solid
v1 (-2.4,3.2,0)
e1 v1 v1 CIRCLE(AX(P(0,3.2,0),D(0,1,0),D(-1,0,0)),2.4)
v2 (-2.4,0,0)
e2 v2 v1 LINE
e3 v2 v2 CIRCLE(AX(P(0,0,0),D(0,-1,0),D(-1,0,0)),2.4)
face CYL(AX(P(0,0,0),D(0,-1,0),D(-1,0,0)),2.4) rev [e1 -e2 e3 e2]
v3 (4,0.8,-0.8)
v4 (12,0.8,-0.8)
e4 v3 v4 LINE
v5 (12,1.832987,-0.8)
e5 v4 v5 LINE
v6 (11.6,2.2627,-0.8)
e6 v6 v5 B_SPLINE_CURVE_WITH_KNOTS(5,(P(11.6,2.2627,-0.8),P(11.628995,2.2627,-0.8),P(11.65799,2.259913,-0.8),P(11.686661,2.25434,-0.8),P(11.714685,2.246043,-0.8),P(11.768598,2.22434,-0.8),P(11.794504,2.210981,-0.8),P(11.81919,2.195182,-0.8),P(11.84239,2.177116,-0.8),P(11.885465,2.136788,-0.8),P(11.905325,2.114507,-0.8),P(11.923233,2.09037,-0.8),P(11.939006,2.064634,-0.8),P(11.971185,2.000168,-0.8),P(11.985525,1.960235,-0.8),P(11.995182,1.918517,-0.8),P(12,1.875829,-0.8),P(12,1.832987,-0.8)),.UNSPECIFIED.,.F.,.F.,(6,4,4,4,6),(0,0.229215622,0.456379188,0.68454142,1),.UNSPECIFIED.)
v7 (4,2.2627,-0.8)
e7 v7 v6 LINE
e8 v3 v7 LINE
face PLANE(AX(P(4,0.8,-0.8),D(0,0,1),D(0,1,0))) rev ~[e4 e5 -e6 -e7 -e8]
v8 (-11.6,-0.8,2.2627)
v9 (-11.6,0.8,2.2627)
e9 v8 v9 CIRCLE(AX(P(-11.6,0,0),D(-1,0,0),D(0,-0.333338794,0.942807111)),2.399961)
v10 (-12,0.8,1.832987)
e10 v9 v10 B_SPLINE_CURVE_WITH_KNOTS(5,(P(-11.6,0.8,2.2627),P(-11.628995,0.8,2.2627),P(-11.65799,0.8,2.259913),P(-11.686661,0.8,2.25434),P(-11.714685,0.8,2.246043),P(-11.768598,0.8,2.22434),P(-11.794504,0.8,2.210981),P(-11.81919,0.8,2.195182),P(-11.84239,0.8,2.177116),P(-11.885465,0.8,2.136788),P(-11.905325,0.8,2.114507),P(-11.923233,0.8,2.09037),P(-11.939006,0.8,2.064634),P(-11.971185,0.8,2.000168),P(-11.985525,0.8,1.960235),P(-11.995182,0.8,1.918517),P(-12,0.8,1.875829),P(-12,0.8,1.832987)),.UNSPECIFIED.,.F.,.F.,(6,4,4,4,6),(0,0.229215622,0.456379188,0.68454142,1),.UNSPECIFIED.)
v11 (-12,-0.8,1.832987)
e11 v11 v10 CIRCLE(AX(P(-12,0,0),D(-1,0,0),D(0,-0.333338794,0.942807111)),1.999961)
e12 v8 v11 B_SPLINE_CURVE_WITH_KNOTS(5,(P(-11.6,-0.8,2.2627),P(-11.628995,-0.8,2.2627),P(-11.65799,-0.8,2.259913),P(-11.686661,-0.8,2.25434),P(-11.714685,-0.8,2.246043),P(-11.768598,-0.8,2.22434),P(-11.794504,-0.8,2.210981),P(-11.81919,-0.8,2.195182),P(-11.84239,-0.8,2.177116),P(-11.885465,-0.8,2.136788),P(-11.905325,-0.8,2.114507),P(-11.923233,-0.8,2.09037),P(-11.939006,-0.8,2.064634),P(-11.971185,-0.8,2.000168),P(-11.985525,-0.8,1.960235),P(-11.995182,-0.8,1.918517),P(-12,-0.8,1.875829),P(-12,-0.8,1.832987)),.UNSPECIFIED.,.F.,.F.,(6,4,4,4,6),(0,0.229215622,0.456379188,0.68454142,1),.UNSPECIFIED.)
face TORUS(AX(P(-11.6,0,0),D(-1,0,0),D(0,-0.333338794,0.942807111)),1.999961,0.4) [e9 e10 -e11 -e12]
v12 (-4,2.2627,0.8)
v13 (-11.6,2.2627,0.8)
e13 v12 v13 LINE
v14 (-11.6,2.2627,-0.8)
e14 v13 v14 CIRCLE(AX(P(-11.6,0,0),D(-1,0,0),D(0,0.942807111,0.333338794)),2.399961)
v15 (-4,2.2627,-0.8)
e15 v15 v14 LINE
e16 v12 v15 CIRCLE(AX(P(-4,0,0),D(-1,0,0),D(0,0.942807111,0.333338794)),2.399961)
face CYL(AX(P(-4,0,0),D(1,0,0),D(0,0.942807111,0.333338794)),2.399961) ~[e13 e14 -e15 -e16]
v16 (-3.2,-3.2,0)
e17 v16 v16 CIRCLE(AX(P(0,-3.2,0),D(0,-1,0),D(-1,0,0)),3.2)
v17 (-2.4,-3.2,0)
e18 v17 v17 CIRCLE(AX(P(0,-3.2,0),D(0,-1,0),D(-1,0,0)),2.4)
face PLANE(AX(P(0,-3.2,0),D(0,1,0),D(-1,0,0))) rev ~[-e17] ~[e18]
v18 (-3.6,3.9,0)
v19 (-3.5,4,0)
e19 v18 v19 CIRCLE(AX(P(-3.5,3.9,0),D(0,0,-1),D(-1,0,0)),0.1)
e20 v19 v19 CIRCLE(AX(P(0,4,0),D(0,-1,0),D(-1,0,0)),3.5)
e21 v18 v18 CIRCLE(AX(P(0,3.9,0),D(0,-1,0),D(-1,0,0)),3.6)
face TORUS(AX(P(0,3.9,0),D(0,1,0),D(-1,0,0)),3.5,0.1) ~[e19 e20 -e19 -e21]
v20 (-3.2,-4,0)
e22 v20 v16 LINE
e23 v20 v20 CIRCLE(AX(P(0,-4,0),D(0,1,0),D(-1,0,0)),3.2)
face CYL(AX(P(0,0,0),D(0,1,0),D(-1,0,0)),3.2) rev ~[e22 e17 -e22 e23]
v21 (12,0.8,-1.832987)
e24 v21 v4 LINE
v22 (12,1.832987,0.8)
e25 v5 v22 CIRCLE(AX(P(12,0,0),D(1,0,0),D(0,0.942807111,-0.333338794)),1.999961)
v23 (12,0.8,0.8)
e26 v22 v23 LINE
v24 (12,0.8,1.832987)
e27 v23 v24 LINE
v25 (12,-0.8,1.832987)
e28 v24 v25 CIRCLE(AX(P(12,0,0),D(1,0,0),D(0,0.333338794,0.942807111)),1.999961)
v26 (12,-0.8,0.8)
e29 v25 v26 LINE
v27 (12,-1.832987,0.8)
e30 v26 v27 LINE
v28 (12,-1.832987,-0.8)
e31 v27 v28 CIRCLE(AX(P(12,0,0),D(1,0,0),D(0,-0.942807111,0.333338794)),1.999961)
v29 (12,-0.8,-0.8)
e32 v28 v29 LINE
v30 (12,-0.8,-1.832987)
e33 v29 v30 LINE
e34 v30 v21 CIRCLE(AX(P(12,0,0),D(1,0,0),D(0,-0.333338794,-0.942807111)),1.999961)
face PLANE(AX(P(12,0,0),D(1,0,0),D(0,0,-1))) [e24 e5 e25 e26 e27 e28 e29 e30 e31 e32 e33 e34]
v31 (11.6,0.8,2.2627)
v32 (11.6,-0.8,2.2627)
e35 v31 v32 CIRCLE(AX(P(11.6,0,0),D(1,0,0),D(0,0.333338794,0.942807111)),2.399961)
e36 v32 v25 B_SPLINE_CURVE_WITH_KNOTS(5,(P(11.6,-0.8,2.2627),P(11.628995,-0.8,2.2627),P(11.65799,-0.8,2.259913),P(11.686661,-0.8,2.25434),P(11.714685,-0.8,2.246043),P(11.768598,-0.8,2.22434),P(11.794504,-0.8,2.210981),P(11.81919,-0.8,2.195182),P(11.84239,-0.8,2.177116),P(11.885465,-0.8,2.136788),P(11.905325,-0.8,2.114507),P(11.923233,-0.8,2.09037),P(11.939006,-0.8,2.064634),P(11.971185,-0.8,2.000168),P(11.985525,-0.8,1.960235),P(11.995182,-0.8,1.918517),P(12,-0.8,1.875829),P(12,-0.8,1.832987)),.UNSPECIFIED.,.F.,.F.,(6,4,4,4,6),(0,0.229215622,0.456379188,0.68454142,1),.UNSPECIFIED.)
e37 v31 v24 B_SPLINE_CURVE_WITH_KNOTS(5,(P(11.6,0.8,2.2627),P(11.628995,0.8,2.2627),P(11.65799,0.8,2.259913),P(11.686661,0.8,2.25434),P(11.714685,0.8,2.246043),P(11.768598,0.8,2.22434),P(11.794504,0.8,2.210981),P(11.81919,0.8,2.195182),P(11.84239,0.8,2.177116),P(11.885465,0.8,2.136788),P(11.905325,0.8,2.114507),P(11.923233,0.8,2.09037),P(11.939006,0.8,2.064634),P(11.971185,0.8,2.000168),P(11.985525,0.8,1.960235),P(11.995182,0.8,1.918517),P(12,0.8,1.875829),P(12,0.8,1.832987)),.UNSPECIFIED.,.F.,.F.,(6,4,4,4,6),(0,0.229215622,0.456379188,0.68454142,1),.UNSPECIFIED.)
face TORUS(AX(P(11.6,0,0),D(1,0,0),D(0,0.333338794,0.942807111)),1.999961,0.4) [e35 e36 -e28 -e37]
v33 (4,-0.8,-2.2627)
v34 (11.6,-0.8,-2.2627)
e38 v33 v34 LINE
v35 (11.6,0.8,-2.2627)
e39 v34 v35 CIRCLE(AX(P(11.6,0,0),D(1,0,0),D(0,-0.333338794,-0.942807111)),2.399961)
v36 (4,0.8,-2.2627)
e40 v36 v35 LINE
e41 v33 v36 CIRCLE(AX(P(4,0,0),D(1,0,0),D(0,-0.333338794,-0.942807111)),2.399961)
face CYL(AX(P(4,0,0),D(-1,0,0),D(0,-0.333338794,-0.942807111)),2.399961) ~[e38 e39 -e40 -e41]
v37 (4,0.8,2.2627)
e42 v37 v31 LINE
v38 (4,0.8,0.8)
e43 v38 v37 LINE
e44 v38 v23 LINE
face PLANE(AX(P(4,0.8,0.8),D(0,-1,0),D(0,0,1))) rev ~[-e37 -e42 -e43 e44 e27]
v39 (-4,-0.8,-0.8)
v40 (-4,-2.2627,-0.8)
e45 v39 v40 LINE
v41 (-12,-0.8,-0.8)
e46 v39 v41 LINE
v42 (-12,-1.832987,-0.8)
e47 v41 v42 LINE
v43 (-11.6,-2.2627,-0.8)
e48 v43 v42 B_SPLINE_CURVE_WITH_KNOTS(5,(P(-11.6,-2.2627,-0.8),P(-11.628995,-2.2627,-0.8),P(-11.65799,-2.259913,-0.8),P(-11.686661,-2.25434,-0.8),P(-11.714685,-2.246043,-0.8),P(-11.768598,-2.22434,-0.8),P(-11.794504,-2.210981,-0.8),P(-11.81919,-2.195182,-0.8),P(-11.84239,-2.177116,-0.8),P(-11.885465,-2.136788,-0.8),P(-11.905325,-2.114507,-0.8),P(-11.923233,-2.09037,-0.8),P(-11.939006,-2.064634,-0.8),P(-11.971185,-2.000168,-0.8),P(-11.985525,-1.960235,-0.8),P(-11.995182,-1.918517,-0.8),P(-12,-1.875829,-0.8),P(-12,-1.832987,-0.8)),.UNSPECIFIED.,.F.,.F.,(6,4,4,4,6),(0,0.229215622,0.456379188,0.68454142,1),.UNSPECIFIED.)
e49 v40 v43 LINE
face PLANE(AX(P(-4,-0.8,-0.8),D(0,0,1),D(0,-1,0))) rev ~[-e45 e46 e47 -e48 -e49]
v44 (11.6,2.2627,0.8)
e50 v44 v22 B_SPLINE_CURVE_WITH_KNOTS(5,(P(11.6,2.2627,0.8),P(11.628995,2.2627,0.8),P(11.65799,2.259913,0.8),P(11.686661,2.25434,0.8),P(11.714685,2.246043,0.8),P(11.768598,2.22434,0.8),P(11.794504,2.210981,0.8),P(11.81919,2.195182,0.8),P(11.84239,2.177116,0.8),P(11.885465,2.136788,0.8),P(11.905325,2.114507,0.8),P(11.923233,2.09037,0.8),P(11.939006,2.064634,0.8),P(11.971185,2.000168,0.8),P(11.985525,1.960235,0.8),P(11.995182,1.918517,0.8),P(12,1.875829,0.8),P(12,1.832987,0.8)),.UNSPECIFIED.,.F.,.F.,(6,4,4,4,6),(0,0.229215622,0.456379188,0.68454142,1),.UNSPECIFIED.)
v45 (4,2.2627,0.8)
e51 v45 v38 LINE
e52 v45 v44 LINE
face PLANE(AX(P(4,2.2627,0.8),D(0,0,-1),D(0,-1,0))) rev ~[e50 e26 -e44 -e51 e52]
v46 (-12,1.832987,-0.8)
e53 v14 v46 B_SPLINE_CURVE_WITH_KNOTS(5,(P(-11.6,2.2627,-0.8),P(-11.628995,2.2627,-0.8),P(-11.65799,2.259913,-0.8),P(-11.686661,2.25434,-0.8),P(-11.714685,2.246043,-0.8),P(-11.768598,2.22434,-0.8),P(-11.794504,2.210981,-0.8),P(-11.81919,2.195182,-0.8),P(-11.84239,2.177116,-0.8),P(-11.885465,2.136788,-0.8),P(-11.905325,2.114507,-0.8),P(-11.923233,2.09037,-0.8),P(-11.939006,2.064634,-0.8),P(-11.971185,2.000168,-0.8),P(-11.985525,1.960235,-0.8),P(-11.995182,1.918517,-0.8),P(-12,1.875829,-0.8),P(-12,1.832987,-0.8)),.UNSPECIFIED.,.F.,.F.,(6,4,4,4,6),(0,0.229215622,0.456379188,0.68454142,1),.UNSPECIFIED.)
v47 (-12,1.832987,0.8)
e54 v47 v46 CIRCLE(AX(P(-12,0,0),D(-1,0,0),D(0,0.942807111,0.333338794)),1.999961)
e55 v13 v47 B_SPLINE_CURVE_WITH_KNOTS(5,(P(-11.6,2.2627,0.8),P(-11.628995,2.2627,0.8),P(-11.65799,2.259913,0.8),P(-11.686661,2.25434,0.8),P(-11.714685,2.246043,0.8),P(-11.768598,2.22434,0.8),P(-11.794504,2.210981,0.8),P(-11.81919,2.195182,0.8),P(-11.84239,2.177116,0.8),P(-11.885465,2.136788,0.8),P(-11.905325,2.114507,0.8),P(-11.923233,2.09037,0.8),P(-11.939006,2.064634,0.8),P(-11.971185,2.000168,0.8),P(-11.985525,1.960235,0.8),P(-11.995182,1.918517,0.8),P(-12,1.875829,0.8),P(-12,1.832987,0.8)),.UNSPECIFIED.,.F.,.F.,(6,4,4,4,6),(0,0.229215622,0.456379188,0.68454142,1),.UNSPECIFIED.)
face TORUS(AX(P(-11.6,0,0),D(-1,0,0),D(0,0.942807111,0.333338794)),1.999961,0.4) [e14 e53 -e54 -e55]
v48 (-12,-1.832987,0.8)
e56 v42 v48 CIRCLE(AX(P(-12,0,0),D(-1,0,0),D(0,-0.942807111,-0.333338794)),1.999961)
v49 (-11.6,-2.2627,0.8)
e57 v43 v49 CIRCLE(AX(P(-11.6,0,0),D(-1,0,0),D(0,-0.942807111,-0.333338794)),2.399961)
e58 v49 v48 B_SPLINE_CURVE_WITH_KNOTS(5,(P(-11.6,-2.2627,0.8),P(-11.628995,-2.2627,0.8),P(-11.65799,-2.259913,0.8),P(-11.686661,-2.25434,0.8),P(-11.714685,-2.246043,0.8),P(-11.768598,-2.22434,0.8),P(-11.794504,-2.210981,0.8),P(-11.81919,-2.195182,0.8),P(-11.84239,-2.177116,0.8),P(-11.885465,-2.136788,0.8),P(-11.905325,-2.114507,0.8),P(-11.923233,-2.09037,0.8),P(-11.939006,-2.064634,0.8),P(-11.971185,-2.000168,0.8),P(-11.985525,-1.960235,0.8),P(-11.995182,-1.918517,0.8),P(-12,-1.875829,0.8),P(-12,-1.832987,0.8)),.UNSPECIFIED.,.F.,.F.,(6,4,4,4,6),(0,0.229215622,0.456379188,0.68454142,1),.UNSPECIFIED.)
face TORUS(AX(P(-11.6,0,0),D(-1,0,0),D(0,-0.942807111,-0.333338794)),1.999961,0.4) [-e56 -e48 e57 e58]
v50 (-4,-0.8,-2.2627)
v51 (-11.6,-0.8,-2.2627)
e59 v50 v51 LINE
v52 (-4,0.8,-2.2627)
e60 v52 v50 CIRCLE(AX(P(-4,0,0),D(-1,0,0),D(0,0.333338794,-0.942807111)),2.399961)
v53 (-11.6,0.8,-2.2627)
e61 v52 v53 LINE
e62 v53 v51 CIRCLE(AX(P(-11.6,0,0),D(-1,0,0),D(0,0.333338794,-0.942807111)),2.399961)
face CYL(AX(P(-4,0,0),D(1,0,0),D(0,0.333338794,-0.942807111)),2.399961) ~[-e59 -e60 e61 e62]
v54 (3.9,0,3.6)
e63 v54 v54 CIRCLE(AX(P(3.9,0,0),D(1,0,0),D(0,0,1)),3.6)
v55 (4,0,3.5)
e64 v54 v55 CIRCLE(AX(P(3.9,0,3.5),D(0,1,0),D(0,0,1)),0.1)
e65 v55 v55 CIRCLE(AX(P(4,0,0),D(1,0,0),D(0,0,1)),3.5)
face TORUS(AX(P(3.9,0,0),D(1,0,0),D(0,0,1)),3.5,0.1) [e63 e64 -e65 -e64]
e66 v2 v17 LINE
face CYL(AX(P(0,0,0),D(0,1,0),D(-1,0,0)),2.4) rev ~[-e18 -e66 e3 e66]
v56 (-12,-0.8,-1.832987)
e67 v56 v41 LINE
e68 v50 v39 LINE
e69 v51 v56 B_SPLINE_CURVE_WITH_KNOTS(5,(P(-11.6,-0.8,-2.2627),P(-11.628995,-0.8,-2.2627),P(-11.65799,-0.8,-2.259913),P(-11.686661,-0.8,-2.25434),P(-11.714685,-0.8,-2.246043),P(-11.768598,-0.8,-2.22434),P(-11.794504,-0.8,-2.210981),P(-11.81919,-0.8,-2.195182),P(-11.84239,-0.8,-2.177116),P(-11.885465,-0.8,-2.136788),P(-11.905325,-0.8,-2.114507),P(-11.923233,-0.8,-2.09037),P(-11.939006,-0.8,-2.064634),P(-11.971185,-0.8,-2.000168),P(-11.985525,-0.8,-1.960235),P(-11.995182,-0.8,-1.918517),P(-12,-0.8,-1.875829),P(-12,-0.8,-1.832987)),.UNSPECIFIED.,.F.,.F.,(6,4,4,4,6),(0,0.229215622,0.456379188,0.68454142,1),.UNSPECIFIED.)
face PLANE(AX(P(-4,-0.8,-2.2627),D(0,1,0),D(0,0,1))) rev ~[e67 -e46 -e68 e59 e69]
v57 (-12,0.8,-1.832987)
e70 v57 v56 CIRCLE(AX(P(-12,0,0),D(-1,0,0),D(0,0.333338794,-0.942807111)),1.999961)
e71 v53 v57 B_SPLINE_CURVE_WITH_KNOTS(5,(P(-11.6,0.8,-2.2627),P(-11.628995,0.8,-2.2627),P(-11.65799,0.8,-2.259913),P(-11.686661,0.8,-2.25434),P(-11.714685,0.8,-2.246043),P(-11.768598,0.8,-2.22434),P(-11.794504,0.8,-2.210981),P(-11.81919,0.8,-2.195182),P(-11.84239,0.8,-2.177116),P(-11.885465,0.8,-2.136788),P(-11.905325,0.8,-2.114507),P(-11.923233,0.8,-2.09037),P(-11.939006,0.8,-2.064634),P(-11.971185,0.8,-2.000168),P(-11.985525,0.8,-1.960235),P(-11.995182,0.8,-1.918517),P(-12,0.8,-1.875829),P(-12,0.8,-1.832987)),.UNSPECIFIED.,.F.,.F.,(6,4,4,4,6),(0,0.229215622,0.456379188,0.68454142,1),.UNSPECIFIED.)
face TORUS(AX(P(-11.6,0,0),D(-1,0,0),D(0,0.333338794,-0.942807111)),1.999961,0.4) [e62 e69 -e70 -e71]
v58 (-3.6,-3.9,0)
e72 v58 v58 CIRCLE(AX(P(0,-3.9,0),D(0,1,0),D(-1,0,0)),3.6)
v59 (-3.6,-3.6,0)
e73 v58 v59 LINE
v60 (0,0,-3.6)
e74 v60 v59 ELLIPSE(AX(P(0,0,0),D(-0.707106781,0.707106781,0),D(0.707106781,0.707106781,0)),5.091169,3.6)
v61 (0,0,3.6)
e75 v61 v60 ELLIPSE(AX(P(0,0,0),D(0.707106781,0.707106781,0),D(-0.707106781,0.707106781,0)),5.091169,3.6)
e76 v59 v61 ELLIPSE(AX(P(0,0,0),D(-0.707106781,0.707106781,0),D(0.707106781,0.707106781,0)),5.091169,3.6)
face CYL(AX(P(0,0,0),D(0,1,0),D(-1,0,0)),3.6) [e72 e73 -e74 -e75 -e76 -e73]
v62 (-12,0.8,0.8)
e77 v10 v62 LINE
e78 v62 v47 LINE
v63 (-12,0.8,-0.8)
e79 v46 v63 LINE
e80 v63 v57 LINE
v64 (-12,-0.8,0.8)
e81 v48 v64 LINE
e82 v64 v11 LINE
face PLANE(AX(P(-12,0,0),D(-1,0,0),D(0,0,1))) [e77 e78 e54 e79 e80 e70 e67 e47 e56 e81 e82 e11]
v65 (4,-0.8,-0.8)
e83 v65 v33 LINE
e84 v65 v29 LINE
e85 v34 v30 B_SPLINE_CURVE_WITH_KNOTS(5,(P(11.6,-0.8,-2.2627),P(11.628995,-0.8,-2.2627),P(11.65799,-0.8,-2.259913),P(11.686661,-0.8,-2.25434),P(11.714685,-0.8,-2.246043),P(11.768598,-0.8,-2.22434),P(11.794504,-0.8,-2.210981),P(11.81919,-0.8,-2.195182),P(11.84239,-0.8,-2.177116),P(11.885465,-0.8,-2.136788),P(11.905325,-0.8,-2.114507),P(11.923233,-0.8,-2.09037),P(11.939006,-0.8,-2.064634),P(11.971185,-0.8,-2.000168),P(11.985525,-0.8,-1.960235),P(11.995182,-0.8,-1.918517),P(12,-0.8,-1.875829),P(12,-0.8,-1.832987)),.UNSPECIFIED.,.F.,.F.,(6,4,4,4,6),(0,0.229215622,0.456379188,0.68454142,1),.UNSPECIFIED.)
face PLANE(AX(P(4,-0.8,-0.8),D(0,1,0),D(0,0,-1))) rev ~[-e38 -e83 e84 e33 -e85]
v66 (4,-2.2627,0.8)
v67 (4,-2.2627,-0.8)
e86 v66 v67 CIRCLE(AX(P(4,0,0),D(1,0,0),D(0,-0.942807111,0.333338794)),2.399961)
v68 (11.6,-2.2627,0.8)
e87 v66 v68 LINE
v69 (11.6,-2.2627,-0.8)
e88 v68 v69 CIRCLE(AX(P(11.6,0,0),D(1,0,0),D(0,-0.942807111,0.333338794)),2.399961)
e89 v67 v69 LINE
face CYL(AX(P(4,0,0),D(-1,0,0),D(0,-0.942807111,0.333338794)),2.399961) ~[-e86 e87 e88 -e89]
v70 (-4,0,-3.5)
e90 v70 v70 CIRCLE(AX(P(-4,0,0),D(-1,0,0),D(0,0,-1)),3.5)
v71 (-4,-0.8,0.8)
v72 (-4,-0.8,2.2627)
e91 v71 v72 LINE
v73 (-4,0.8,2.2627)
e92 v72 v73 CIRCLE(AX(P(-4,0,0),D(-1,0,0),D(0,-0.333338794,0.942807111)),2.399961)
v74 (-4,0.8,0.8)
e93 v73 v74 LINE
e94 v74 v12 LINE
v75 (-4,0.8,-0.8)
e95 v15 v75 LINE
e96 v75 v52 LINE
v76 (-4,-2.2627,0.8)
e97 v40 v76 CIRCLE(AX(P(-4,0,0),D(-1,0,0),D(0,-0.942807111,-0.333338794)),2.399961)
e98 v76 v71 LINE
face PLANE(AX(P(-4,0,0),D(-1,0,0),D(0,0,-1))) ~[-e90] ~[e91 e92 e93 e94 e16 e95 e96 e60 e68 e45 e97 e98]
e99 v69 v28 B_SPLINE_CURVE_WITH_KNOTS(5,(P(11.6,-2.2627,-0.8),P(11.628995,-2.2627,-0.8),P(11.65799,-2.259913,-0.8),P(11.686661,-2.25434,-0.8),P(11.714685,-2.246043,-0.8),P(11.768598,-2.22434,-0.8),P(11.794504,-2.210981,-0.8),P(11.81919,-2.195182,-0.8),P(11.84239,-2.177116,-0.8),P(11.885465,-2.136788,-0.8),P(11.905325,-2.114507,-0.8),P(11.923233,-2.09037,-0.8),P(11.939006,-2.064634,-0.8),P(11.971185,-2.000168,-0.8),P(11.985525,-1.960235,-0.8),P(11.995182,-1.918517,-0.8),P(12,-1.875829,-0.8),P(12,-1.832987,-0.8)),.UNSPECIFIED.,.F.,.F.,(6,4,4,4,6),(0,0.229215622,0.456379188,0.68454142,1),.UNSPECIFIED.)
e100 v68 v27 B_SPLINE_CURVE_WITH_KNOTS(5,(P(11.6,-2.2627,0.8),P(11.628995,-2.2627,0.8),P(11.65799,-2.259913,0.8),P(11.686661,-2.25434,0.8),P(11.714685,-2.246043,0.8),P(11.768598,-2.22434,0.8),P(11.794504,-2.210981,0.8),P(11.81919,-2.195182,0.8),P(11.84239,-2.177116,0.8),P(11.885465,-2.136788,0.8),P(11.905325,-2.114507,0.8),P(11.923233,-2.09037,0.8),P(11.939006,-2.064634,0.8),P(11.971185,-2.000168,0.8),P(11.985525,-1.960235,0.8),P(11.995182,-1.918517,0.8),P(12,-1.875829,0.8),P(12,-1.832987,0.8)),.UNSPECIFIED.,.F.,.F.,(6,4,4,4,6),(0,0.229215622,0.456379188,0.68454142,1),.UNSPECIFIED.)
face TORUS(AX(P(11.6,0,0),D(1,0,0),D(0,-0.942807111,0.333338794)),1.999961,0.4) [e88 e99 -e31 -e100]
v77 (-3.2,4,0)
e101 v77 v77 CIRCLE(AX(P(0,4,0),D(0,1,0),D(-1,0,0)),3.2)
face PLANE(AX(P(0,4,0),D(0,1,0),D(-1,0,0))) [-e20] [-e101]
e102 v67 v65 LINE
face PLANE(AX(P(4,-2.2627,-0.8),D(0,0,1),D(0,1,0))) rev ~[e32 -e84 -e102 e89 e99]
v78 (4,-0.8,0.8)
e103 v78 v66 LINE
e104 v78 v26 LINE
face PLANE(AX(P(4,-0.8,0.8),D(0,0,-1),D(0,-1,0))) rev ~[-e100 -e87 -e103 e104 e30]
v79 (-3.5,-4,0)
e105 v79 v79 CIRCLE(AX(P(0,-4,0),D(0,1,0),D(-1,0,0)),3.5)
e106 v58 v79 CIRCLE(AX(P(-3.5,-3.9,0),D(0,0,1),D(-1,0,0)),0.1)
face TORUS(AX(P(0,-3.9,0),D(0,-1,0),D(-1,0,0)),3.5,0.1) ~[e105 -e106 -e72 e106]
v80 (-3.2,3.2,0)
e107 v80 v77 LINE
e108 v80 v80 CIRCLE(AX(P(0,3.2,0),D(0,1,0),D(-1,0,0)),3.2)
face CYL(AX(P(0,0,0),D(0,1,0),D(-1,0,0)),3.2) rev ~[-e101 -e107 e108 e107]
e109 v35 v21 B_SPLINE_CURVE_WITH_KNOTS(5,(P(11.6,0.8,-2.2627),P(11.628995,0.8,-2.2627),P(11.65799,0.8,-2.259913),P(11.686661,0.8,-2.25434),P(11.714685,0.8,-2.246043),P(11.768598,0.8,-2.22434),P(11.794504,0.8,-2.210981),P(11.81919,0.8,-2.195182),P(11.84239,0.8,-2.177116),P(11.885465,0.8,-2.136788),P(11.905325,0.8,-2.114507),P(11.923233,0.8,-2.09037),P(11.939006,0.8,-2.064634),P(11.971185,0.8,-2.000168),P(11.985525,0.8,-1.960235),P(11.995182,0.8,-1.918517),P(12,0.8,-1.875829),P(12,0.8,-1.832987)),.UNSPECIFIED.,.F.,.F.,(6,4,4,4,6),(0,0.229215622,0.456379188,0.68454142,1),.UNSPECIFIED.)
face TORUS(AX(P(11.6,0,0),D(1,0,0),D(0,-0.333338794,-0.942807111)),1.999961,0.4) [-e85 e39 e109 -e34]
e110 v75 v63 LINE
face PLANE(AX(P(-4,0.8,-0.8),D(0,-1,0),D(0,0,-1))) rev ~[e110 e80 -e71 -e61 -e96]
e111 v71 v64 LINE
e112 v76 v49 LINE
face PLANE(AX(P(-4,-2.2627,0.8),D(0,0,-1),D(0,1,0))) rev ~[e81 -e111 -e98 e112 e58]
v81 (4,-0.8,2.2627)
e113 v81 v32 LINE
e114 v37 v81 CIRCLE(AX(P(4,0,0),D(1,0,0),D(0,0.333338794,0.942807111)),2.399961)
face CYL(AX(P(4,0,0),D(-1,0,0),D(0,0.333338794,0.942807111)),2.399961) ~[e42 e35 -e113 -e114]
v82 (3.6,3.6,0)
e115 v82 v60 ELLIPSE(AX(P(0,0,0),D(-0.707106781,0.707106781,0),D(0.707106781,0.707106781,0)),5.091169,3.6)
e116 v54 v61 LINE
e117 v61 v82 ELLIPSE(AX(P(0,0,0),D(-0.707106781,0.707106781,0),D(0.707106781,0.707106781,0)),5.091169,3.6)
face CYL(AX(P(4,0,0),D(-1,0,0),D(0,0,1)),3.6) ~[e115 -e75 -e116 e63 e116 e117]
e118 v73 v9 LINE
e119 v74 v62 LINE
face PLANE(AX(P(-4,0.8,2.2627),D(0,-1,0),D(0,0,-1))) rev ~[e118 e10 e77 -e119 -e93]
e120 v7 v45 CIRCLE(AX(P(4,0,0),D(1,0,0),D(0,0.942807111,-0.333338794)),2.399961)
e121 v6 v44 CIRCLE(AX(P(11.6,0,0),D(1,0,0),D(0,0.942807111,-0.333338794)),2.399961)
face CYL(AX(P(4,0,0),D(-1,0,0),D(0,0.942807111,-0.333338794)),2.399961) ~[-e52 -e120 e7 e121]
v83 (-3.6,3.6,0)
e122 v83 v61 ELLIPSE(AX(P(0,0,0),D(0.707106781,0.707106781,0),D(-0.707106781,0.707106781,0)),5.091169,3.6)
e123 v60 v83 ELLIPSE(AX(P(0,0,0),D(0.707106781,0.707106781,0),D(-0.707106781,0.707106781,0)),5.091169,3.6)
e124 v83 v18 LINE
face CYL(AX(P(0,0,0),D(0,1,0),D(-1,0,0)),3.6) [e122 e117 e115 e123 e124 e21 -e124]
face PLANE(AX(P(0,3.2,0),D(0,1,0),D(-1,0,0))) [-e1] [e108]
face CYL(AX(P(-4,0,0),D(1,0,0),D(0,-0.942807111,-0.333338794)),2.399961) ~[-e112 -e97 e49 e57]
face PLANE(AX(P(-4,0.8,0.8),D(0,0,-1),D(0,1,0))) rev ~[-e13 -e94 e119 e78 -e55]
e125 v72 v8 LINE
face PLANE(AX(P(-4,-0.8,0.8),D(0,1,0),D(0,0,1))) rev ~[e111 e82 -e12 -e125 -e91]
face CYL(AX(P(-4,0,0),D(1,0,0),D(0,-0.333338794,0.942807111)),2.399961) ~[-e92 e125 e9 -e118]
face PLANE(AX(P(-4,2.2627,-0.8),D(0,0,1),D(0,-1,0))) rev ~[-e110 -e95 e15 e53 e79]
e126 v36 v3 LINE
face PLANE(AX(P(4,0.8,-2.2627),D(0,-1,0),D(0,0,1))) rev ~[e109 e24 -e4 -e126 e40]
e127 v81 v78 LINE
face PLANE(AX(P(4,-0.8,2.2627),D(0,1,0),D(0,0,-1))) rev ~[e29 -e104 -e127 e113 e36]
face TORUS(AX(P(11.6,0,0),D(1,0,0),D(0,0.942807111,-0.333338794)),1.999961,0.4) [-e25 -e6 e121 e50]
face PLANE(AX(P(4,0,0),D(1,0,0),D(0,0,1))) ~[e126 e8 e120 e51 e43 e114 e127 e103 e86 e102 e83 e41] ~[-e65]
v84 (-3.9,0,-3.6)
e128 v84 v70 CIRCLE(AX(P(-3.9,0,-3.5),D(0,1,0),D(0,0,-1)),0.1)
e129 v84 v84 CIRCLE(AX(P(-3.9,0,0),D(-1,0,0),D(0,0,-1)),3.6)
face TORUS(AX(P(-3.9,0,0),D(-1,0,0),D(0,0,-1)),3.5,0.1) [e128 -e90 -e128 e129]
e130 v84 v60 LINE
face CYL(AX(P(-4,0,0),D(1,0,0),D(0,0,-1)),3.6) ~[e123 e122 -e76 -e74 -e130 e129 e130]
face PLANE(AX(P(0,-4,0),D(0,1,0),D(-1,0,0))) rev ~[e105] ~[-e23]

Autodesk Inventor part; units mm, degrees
ref_plane "YZ Plane" through (0, 0, 0) normal (1, 0, 0) x (0, 1, 0)
ref_plane "XZ Plane" through (0, 0, 0) normal (0, 1, 0) x (-1, 0, 0)
ref_plane "XY Plane" through (0, 0, 0) normal (0, 0, 1) x (1, 0, 0)
sketch "Sketch2" plane through (0, 0, 0) normal (0, 1, 0) x (-1, 0, 0)
  circle A0 centre (0, 0) radius 3.6
  circle A1 centre (0, 0) radius 3.2
  circle A2 centre (0, 0) radius 2.4
  line L0 (0, 0) -> (-4, 0)
  line L1 (-4, 0) -> (-4, 3.6)
  line L2 (-4, 3.6) -> (0, 3.6)
  line L3 (0, 3.6) -> (0, 0)
  dimension "d0" = 4.8
  dimension "d1" = 6.4
  dimension "d2" = 7.2
  dimension "d3" = 4
  dimension "d4" = 7.2
extrude "Extrusion1" add sketch "Sketch2" along normal mid plane 8 contours A0 L0 A1 L3 | L3 A1 L0 A0 | L3 A2 L0 A1 | A1 L0 A2 L3 | L3 L0 A2 | A2 L0 L3
revolve "Revolution1" add sketch "Sketch2" angle 360 about axis through (0, 0, 0) along (1, 0, 0) picked at (-3.4098, 0.5044) picked at (-2.9066, 0.2374) picked at (-0.178, 1.5799) contours L3 A1 L0 A0 | A0 L0 L1 L2 | L3 A2 L0 A1 | L3 L0 A2
sketch "Sketch3" plane through (4, 0, 0) normal (1, 0, 0) x (0, 0, -1)
  circle A0 centre (0, 0) radius 3.6 projected
  circle A1 centre (0, 0) radius 2.4 construction
  line L0 (-0.8, 2.2627) -> (-0.8, 0.8)
  line L1 (-0.8, 0.8) -> (-2.2627, 0.8)
  line L2 (-2.2627, -0.8) -> (-0.8, -0.8)
  line L3 (-0.8, -0.8) -> (-0.8, -2.2627)
  line L4 (0.8, -2.2627) -> (0.8, -0.8)
  line L5 (0.8, -0.8) -> (2.2627, -0.8)
  line L6 (2.2627, 0.8) -> (0.8, 0.8)
  line L7 (0.8, 0.8) -> (0.8, 2.2627)
  arc A2 (0.8, 2.2627) -> (-0.8, 2.2627) centre (0, 0) ccw
  arc A3 (-2.2627, 0.8) -> (-2.2627, -0.8) centre (0, 0) ccw
  arc A4 (-0.8, -2.2627) -> (0.8, -2.2627) centre (0, 0) ccw
  arc A5 (2.2627, -0.8) -> (2.2627, 0.8) centre (0, 0) ccw
  dimension "d13" = 4.8
  dimension "d12" = 1.6
extrude "Extrusion4" add sketch "Sketch3" along normal blind 8 contours A2 L7 L6 A5 L5 L4 A4 L3 L2 A3 L1 L0
pattern_circular "Circular Pattern1" count 2 over 360 about axis through (0, 0, 0) along (0, 1, 0) of "Revolution1", "Extrusion4"
extrude "Extrusion2" cut sketch "Sketch2" along normal through all both and the other way through all contours L3 A2 L0 A1 | A1 L0 A2 L3 | L3 L0 A2 | A2 L0 L3
extrude "Extrusion3" add sketch "Sketch2" along normal mid plane 6.4 contours L3 A2 L0 A1 | A1 L0 A2 L3
fillet "Fillet1" radius 0.1 4 edges at (3.6, 4, 0) (3.6, -4, 0) (4, 0, -3.6) (-4, 0, 3.6)
fillet "Fillet1" radius 0.4 8 edges at (12, 0, 2.4) (12, 2.4, 0) (12, 0, -2.4) (12, -2.4, 0) (-12, 0, 2.4) (-12, 2.4, 0) (-12, -2.4, 0) (-12, 0, -2.4)
equation "\"d0\" = tpd"
equation "\"d1\" = tsd"
equation "\"d2\" = tlad"
equation "\"d4\" = d2"
equation "\"d5\" = lu"
equation "\"d13\" = kd"
equation "\"d12\" = axlet"
equation "\"d14\" = lu"
equation "\"d8\" = lu"
equation "\"d10\" = lu - 2 * tsl"
equation "\"d16\" = lf"
equation "\"d17\" = tf"
equation "\"tpd\" = 4.8"
equation "\"tsd\" = 6.4"
equation "\"tlad\" = 7.2"
equation "\"lu\" = 8"
equation "\"kd\" = 4.8"
equation "\"axlet\" = 1.6"
equation "\"tsl\" = 0.8"
equation "\"lf\" = 0.1"
equation "\"tf\" = 0.4"
properties part number "27940-DkBluishGray" material "ABS Plastic"
